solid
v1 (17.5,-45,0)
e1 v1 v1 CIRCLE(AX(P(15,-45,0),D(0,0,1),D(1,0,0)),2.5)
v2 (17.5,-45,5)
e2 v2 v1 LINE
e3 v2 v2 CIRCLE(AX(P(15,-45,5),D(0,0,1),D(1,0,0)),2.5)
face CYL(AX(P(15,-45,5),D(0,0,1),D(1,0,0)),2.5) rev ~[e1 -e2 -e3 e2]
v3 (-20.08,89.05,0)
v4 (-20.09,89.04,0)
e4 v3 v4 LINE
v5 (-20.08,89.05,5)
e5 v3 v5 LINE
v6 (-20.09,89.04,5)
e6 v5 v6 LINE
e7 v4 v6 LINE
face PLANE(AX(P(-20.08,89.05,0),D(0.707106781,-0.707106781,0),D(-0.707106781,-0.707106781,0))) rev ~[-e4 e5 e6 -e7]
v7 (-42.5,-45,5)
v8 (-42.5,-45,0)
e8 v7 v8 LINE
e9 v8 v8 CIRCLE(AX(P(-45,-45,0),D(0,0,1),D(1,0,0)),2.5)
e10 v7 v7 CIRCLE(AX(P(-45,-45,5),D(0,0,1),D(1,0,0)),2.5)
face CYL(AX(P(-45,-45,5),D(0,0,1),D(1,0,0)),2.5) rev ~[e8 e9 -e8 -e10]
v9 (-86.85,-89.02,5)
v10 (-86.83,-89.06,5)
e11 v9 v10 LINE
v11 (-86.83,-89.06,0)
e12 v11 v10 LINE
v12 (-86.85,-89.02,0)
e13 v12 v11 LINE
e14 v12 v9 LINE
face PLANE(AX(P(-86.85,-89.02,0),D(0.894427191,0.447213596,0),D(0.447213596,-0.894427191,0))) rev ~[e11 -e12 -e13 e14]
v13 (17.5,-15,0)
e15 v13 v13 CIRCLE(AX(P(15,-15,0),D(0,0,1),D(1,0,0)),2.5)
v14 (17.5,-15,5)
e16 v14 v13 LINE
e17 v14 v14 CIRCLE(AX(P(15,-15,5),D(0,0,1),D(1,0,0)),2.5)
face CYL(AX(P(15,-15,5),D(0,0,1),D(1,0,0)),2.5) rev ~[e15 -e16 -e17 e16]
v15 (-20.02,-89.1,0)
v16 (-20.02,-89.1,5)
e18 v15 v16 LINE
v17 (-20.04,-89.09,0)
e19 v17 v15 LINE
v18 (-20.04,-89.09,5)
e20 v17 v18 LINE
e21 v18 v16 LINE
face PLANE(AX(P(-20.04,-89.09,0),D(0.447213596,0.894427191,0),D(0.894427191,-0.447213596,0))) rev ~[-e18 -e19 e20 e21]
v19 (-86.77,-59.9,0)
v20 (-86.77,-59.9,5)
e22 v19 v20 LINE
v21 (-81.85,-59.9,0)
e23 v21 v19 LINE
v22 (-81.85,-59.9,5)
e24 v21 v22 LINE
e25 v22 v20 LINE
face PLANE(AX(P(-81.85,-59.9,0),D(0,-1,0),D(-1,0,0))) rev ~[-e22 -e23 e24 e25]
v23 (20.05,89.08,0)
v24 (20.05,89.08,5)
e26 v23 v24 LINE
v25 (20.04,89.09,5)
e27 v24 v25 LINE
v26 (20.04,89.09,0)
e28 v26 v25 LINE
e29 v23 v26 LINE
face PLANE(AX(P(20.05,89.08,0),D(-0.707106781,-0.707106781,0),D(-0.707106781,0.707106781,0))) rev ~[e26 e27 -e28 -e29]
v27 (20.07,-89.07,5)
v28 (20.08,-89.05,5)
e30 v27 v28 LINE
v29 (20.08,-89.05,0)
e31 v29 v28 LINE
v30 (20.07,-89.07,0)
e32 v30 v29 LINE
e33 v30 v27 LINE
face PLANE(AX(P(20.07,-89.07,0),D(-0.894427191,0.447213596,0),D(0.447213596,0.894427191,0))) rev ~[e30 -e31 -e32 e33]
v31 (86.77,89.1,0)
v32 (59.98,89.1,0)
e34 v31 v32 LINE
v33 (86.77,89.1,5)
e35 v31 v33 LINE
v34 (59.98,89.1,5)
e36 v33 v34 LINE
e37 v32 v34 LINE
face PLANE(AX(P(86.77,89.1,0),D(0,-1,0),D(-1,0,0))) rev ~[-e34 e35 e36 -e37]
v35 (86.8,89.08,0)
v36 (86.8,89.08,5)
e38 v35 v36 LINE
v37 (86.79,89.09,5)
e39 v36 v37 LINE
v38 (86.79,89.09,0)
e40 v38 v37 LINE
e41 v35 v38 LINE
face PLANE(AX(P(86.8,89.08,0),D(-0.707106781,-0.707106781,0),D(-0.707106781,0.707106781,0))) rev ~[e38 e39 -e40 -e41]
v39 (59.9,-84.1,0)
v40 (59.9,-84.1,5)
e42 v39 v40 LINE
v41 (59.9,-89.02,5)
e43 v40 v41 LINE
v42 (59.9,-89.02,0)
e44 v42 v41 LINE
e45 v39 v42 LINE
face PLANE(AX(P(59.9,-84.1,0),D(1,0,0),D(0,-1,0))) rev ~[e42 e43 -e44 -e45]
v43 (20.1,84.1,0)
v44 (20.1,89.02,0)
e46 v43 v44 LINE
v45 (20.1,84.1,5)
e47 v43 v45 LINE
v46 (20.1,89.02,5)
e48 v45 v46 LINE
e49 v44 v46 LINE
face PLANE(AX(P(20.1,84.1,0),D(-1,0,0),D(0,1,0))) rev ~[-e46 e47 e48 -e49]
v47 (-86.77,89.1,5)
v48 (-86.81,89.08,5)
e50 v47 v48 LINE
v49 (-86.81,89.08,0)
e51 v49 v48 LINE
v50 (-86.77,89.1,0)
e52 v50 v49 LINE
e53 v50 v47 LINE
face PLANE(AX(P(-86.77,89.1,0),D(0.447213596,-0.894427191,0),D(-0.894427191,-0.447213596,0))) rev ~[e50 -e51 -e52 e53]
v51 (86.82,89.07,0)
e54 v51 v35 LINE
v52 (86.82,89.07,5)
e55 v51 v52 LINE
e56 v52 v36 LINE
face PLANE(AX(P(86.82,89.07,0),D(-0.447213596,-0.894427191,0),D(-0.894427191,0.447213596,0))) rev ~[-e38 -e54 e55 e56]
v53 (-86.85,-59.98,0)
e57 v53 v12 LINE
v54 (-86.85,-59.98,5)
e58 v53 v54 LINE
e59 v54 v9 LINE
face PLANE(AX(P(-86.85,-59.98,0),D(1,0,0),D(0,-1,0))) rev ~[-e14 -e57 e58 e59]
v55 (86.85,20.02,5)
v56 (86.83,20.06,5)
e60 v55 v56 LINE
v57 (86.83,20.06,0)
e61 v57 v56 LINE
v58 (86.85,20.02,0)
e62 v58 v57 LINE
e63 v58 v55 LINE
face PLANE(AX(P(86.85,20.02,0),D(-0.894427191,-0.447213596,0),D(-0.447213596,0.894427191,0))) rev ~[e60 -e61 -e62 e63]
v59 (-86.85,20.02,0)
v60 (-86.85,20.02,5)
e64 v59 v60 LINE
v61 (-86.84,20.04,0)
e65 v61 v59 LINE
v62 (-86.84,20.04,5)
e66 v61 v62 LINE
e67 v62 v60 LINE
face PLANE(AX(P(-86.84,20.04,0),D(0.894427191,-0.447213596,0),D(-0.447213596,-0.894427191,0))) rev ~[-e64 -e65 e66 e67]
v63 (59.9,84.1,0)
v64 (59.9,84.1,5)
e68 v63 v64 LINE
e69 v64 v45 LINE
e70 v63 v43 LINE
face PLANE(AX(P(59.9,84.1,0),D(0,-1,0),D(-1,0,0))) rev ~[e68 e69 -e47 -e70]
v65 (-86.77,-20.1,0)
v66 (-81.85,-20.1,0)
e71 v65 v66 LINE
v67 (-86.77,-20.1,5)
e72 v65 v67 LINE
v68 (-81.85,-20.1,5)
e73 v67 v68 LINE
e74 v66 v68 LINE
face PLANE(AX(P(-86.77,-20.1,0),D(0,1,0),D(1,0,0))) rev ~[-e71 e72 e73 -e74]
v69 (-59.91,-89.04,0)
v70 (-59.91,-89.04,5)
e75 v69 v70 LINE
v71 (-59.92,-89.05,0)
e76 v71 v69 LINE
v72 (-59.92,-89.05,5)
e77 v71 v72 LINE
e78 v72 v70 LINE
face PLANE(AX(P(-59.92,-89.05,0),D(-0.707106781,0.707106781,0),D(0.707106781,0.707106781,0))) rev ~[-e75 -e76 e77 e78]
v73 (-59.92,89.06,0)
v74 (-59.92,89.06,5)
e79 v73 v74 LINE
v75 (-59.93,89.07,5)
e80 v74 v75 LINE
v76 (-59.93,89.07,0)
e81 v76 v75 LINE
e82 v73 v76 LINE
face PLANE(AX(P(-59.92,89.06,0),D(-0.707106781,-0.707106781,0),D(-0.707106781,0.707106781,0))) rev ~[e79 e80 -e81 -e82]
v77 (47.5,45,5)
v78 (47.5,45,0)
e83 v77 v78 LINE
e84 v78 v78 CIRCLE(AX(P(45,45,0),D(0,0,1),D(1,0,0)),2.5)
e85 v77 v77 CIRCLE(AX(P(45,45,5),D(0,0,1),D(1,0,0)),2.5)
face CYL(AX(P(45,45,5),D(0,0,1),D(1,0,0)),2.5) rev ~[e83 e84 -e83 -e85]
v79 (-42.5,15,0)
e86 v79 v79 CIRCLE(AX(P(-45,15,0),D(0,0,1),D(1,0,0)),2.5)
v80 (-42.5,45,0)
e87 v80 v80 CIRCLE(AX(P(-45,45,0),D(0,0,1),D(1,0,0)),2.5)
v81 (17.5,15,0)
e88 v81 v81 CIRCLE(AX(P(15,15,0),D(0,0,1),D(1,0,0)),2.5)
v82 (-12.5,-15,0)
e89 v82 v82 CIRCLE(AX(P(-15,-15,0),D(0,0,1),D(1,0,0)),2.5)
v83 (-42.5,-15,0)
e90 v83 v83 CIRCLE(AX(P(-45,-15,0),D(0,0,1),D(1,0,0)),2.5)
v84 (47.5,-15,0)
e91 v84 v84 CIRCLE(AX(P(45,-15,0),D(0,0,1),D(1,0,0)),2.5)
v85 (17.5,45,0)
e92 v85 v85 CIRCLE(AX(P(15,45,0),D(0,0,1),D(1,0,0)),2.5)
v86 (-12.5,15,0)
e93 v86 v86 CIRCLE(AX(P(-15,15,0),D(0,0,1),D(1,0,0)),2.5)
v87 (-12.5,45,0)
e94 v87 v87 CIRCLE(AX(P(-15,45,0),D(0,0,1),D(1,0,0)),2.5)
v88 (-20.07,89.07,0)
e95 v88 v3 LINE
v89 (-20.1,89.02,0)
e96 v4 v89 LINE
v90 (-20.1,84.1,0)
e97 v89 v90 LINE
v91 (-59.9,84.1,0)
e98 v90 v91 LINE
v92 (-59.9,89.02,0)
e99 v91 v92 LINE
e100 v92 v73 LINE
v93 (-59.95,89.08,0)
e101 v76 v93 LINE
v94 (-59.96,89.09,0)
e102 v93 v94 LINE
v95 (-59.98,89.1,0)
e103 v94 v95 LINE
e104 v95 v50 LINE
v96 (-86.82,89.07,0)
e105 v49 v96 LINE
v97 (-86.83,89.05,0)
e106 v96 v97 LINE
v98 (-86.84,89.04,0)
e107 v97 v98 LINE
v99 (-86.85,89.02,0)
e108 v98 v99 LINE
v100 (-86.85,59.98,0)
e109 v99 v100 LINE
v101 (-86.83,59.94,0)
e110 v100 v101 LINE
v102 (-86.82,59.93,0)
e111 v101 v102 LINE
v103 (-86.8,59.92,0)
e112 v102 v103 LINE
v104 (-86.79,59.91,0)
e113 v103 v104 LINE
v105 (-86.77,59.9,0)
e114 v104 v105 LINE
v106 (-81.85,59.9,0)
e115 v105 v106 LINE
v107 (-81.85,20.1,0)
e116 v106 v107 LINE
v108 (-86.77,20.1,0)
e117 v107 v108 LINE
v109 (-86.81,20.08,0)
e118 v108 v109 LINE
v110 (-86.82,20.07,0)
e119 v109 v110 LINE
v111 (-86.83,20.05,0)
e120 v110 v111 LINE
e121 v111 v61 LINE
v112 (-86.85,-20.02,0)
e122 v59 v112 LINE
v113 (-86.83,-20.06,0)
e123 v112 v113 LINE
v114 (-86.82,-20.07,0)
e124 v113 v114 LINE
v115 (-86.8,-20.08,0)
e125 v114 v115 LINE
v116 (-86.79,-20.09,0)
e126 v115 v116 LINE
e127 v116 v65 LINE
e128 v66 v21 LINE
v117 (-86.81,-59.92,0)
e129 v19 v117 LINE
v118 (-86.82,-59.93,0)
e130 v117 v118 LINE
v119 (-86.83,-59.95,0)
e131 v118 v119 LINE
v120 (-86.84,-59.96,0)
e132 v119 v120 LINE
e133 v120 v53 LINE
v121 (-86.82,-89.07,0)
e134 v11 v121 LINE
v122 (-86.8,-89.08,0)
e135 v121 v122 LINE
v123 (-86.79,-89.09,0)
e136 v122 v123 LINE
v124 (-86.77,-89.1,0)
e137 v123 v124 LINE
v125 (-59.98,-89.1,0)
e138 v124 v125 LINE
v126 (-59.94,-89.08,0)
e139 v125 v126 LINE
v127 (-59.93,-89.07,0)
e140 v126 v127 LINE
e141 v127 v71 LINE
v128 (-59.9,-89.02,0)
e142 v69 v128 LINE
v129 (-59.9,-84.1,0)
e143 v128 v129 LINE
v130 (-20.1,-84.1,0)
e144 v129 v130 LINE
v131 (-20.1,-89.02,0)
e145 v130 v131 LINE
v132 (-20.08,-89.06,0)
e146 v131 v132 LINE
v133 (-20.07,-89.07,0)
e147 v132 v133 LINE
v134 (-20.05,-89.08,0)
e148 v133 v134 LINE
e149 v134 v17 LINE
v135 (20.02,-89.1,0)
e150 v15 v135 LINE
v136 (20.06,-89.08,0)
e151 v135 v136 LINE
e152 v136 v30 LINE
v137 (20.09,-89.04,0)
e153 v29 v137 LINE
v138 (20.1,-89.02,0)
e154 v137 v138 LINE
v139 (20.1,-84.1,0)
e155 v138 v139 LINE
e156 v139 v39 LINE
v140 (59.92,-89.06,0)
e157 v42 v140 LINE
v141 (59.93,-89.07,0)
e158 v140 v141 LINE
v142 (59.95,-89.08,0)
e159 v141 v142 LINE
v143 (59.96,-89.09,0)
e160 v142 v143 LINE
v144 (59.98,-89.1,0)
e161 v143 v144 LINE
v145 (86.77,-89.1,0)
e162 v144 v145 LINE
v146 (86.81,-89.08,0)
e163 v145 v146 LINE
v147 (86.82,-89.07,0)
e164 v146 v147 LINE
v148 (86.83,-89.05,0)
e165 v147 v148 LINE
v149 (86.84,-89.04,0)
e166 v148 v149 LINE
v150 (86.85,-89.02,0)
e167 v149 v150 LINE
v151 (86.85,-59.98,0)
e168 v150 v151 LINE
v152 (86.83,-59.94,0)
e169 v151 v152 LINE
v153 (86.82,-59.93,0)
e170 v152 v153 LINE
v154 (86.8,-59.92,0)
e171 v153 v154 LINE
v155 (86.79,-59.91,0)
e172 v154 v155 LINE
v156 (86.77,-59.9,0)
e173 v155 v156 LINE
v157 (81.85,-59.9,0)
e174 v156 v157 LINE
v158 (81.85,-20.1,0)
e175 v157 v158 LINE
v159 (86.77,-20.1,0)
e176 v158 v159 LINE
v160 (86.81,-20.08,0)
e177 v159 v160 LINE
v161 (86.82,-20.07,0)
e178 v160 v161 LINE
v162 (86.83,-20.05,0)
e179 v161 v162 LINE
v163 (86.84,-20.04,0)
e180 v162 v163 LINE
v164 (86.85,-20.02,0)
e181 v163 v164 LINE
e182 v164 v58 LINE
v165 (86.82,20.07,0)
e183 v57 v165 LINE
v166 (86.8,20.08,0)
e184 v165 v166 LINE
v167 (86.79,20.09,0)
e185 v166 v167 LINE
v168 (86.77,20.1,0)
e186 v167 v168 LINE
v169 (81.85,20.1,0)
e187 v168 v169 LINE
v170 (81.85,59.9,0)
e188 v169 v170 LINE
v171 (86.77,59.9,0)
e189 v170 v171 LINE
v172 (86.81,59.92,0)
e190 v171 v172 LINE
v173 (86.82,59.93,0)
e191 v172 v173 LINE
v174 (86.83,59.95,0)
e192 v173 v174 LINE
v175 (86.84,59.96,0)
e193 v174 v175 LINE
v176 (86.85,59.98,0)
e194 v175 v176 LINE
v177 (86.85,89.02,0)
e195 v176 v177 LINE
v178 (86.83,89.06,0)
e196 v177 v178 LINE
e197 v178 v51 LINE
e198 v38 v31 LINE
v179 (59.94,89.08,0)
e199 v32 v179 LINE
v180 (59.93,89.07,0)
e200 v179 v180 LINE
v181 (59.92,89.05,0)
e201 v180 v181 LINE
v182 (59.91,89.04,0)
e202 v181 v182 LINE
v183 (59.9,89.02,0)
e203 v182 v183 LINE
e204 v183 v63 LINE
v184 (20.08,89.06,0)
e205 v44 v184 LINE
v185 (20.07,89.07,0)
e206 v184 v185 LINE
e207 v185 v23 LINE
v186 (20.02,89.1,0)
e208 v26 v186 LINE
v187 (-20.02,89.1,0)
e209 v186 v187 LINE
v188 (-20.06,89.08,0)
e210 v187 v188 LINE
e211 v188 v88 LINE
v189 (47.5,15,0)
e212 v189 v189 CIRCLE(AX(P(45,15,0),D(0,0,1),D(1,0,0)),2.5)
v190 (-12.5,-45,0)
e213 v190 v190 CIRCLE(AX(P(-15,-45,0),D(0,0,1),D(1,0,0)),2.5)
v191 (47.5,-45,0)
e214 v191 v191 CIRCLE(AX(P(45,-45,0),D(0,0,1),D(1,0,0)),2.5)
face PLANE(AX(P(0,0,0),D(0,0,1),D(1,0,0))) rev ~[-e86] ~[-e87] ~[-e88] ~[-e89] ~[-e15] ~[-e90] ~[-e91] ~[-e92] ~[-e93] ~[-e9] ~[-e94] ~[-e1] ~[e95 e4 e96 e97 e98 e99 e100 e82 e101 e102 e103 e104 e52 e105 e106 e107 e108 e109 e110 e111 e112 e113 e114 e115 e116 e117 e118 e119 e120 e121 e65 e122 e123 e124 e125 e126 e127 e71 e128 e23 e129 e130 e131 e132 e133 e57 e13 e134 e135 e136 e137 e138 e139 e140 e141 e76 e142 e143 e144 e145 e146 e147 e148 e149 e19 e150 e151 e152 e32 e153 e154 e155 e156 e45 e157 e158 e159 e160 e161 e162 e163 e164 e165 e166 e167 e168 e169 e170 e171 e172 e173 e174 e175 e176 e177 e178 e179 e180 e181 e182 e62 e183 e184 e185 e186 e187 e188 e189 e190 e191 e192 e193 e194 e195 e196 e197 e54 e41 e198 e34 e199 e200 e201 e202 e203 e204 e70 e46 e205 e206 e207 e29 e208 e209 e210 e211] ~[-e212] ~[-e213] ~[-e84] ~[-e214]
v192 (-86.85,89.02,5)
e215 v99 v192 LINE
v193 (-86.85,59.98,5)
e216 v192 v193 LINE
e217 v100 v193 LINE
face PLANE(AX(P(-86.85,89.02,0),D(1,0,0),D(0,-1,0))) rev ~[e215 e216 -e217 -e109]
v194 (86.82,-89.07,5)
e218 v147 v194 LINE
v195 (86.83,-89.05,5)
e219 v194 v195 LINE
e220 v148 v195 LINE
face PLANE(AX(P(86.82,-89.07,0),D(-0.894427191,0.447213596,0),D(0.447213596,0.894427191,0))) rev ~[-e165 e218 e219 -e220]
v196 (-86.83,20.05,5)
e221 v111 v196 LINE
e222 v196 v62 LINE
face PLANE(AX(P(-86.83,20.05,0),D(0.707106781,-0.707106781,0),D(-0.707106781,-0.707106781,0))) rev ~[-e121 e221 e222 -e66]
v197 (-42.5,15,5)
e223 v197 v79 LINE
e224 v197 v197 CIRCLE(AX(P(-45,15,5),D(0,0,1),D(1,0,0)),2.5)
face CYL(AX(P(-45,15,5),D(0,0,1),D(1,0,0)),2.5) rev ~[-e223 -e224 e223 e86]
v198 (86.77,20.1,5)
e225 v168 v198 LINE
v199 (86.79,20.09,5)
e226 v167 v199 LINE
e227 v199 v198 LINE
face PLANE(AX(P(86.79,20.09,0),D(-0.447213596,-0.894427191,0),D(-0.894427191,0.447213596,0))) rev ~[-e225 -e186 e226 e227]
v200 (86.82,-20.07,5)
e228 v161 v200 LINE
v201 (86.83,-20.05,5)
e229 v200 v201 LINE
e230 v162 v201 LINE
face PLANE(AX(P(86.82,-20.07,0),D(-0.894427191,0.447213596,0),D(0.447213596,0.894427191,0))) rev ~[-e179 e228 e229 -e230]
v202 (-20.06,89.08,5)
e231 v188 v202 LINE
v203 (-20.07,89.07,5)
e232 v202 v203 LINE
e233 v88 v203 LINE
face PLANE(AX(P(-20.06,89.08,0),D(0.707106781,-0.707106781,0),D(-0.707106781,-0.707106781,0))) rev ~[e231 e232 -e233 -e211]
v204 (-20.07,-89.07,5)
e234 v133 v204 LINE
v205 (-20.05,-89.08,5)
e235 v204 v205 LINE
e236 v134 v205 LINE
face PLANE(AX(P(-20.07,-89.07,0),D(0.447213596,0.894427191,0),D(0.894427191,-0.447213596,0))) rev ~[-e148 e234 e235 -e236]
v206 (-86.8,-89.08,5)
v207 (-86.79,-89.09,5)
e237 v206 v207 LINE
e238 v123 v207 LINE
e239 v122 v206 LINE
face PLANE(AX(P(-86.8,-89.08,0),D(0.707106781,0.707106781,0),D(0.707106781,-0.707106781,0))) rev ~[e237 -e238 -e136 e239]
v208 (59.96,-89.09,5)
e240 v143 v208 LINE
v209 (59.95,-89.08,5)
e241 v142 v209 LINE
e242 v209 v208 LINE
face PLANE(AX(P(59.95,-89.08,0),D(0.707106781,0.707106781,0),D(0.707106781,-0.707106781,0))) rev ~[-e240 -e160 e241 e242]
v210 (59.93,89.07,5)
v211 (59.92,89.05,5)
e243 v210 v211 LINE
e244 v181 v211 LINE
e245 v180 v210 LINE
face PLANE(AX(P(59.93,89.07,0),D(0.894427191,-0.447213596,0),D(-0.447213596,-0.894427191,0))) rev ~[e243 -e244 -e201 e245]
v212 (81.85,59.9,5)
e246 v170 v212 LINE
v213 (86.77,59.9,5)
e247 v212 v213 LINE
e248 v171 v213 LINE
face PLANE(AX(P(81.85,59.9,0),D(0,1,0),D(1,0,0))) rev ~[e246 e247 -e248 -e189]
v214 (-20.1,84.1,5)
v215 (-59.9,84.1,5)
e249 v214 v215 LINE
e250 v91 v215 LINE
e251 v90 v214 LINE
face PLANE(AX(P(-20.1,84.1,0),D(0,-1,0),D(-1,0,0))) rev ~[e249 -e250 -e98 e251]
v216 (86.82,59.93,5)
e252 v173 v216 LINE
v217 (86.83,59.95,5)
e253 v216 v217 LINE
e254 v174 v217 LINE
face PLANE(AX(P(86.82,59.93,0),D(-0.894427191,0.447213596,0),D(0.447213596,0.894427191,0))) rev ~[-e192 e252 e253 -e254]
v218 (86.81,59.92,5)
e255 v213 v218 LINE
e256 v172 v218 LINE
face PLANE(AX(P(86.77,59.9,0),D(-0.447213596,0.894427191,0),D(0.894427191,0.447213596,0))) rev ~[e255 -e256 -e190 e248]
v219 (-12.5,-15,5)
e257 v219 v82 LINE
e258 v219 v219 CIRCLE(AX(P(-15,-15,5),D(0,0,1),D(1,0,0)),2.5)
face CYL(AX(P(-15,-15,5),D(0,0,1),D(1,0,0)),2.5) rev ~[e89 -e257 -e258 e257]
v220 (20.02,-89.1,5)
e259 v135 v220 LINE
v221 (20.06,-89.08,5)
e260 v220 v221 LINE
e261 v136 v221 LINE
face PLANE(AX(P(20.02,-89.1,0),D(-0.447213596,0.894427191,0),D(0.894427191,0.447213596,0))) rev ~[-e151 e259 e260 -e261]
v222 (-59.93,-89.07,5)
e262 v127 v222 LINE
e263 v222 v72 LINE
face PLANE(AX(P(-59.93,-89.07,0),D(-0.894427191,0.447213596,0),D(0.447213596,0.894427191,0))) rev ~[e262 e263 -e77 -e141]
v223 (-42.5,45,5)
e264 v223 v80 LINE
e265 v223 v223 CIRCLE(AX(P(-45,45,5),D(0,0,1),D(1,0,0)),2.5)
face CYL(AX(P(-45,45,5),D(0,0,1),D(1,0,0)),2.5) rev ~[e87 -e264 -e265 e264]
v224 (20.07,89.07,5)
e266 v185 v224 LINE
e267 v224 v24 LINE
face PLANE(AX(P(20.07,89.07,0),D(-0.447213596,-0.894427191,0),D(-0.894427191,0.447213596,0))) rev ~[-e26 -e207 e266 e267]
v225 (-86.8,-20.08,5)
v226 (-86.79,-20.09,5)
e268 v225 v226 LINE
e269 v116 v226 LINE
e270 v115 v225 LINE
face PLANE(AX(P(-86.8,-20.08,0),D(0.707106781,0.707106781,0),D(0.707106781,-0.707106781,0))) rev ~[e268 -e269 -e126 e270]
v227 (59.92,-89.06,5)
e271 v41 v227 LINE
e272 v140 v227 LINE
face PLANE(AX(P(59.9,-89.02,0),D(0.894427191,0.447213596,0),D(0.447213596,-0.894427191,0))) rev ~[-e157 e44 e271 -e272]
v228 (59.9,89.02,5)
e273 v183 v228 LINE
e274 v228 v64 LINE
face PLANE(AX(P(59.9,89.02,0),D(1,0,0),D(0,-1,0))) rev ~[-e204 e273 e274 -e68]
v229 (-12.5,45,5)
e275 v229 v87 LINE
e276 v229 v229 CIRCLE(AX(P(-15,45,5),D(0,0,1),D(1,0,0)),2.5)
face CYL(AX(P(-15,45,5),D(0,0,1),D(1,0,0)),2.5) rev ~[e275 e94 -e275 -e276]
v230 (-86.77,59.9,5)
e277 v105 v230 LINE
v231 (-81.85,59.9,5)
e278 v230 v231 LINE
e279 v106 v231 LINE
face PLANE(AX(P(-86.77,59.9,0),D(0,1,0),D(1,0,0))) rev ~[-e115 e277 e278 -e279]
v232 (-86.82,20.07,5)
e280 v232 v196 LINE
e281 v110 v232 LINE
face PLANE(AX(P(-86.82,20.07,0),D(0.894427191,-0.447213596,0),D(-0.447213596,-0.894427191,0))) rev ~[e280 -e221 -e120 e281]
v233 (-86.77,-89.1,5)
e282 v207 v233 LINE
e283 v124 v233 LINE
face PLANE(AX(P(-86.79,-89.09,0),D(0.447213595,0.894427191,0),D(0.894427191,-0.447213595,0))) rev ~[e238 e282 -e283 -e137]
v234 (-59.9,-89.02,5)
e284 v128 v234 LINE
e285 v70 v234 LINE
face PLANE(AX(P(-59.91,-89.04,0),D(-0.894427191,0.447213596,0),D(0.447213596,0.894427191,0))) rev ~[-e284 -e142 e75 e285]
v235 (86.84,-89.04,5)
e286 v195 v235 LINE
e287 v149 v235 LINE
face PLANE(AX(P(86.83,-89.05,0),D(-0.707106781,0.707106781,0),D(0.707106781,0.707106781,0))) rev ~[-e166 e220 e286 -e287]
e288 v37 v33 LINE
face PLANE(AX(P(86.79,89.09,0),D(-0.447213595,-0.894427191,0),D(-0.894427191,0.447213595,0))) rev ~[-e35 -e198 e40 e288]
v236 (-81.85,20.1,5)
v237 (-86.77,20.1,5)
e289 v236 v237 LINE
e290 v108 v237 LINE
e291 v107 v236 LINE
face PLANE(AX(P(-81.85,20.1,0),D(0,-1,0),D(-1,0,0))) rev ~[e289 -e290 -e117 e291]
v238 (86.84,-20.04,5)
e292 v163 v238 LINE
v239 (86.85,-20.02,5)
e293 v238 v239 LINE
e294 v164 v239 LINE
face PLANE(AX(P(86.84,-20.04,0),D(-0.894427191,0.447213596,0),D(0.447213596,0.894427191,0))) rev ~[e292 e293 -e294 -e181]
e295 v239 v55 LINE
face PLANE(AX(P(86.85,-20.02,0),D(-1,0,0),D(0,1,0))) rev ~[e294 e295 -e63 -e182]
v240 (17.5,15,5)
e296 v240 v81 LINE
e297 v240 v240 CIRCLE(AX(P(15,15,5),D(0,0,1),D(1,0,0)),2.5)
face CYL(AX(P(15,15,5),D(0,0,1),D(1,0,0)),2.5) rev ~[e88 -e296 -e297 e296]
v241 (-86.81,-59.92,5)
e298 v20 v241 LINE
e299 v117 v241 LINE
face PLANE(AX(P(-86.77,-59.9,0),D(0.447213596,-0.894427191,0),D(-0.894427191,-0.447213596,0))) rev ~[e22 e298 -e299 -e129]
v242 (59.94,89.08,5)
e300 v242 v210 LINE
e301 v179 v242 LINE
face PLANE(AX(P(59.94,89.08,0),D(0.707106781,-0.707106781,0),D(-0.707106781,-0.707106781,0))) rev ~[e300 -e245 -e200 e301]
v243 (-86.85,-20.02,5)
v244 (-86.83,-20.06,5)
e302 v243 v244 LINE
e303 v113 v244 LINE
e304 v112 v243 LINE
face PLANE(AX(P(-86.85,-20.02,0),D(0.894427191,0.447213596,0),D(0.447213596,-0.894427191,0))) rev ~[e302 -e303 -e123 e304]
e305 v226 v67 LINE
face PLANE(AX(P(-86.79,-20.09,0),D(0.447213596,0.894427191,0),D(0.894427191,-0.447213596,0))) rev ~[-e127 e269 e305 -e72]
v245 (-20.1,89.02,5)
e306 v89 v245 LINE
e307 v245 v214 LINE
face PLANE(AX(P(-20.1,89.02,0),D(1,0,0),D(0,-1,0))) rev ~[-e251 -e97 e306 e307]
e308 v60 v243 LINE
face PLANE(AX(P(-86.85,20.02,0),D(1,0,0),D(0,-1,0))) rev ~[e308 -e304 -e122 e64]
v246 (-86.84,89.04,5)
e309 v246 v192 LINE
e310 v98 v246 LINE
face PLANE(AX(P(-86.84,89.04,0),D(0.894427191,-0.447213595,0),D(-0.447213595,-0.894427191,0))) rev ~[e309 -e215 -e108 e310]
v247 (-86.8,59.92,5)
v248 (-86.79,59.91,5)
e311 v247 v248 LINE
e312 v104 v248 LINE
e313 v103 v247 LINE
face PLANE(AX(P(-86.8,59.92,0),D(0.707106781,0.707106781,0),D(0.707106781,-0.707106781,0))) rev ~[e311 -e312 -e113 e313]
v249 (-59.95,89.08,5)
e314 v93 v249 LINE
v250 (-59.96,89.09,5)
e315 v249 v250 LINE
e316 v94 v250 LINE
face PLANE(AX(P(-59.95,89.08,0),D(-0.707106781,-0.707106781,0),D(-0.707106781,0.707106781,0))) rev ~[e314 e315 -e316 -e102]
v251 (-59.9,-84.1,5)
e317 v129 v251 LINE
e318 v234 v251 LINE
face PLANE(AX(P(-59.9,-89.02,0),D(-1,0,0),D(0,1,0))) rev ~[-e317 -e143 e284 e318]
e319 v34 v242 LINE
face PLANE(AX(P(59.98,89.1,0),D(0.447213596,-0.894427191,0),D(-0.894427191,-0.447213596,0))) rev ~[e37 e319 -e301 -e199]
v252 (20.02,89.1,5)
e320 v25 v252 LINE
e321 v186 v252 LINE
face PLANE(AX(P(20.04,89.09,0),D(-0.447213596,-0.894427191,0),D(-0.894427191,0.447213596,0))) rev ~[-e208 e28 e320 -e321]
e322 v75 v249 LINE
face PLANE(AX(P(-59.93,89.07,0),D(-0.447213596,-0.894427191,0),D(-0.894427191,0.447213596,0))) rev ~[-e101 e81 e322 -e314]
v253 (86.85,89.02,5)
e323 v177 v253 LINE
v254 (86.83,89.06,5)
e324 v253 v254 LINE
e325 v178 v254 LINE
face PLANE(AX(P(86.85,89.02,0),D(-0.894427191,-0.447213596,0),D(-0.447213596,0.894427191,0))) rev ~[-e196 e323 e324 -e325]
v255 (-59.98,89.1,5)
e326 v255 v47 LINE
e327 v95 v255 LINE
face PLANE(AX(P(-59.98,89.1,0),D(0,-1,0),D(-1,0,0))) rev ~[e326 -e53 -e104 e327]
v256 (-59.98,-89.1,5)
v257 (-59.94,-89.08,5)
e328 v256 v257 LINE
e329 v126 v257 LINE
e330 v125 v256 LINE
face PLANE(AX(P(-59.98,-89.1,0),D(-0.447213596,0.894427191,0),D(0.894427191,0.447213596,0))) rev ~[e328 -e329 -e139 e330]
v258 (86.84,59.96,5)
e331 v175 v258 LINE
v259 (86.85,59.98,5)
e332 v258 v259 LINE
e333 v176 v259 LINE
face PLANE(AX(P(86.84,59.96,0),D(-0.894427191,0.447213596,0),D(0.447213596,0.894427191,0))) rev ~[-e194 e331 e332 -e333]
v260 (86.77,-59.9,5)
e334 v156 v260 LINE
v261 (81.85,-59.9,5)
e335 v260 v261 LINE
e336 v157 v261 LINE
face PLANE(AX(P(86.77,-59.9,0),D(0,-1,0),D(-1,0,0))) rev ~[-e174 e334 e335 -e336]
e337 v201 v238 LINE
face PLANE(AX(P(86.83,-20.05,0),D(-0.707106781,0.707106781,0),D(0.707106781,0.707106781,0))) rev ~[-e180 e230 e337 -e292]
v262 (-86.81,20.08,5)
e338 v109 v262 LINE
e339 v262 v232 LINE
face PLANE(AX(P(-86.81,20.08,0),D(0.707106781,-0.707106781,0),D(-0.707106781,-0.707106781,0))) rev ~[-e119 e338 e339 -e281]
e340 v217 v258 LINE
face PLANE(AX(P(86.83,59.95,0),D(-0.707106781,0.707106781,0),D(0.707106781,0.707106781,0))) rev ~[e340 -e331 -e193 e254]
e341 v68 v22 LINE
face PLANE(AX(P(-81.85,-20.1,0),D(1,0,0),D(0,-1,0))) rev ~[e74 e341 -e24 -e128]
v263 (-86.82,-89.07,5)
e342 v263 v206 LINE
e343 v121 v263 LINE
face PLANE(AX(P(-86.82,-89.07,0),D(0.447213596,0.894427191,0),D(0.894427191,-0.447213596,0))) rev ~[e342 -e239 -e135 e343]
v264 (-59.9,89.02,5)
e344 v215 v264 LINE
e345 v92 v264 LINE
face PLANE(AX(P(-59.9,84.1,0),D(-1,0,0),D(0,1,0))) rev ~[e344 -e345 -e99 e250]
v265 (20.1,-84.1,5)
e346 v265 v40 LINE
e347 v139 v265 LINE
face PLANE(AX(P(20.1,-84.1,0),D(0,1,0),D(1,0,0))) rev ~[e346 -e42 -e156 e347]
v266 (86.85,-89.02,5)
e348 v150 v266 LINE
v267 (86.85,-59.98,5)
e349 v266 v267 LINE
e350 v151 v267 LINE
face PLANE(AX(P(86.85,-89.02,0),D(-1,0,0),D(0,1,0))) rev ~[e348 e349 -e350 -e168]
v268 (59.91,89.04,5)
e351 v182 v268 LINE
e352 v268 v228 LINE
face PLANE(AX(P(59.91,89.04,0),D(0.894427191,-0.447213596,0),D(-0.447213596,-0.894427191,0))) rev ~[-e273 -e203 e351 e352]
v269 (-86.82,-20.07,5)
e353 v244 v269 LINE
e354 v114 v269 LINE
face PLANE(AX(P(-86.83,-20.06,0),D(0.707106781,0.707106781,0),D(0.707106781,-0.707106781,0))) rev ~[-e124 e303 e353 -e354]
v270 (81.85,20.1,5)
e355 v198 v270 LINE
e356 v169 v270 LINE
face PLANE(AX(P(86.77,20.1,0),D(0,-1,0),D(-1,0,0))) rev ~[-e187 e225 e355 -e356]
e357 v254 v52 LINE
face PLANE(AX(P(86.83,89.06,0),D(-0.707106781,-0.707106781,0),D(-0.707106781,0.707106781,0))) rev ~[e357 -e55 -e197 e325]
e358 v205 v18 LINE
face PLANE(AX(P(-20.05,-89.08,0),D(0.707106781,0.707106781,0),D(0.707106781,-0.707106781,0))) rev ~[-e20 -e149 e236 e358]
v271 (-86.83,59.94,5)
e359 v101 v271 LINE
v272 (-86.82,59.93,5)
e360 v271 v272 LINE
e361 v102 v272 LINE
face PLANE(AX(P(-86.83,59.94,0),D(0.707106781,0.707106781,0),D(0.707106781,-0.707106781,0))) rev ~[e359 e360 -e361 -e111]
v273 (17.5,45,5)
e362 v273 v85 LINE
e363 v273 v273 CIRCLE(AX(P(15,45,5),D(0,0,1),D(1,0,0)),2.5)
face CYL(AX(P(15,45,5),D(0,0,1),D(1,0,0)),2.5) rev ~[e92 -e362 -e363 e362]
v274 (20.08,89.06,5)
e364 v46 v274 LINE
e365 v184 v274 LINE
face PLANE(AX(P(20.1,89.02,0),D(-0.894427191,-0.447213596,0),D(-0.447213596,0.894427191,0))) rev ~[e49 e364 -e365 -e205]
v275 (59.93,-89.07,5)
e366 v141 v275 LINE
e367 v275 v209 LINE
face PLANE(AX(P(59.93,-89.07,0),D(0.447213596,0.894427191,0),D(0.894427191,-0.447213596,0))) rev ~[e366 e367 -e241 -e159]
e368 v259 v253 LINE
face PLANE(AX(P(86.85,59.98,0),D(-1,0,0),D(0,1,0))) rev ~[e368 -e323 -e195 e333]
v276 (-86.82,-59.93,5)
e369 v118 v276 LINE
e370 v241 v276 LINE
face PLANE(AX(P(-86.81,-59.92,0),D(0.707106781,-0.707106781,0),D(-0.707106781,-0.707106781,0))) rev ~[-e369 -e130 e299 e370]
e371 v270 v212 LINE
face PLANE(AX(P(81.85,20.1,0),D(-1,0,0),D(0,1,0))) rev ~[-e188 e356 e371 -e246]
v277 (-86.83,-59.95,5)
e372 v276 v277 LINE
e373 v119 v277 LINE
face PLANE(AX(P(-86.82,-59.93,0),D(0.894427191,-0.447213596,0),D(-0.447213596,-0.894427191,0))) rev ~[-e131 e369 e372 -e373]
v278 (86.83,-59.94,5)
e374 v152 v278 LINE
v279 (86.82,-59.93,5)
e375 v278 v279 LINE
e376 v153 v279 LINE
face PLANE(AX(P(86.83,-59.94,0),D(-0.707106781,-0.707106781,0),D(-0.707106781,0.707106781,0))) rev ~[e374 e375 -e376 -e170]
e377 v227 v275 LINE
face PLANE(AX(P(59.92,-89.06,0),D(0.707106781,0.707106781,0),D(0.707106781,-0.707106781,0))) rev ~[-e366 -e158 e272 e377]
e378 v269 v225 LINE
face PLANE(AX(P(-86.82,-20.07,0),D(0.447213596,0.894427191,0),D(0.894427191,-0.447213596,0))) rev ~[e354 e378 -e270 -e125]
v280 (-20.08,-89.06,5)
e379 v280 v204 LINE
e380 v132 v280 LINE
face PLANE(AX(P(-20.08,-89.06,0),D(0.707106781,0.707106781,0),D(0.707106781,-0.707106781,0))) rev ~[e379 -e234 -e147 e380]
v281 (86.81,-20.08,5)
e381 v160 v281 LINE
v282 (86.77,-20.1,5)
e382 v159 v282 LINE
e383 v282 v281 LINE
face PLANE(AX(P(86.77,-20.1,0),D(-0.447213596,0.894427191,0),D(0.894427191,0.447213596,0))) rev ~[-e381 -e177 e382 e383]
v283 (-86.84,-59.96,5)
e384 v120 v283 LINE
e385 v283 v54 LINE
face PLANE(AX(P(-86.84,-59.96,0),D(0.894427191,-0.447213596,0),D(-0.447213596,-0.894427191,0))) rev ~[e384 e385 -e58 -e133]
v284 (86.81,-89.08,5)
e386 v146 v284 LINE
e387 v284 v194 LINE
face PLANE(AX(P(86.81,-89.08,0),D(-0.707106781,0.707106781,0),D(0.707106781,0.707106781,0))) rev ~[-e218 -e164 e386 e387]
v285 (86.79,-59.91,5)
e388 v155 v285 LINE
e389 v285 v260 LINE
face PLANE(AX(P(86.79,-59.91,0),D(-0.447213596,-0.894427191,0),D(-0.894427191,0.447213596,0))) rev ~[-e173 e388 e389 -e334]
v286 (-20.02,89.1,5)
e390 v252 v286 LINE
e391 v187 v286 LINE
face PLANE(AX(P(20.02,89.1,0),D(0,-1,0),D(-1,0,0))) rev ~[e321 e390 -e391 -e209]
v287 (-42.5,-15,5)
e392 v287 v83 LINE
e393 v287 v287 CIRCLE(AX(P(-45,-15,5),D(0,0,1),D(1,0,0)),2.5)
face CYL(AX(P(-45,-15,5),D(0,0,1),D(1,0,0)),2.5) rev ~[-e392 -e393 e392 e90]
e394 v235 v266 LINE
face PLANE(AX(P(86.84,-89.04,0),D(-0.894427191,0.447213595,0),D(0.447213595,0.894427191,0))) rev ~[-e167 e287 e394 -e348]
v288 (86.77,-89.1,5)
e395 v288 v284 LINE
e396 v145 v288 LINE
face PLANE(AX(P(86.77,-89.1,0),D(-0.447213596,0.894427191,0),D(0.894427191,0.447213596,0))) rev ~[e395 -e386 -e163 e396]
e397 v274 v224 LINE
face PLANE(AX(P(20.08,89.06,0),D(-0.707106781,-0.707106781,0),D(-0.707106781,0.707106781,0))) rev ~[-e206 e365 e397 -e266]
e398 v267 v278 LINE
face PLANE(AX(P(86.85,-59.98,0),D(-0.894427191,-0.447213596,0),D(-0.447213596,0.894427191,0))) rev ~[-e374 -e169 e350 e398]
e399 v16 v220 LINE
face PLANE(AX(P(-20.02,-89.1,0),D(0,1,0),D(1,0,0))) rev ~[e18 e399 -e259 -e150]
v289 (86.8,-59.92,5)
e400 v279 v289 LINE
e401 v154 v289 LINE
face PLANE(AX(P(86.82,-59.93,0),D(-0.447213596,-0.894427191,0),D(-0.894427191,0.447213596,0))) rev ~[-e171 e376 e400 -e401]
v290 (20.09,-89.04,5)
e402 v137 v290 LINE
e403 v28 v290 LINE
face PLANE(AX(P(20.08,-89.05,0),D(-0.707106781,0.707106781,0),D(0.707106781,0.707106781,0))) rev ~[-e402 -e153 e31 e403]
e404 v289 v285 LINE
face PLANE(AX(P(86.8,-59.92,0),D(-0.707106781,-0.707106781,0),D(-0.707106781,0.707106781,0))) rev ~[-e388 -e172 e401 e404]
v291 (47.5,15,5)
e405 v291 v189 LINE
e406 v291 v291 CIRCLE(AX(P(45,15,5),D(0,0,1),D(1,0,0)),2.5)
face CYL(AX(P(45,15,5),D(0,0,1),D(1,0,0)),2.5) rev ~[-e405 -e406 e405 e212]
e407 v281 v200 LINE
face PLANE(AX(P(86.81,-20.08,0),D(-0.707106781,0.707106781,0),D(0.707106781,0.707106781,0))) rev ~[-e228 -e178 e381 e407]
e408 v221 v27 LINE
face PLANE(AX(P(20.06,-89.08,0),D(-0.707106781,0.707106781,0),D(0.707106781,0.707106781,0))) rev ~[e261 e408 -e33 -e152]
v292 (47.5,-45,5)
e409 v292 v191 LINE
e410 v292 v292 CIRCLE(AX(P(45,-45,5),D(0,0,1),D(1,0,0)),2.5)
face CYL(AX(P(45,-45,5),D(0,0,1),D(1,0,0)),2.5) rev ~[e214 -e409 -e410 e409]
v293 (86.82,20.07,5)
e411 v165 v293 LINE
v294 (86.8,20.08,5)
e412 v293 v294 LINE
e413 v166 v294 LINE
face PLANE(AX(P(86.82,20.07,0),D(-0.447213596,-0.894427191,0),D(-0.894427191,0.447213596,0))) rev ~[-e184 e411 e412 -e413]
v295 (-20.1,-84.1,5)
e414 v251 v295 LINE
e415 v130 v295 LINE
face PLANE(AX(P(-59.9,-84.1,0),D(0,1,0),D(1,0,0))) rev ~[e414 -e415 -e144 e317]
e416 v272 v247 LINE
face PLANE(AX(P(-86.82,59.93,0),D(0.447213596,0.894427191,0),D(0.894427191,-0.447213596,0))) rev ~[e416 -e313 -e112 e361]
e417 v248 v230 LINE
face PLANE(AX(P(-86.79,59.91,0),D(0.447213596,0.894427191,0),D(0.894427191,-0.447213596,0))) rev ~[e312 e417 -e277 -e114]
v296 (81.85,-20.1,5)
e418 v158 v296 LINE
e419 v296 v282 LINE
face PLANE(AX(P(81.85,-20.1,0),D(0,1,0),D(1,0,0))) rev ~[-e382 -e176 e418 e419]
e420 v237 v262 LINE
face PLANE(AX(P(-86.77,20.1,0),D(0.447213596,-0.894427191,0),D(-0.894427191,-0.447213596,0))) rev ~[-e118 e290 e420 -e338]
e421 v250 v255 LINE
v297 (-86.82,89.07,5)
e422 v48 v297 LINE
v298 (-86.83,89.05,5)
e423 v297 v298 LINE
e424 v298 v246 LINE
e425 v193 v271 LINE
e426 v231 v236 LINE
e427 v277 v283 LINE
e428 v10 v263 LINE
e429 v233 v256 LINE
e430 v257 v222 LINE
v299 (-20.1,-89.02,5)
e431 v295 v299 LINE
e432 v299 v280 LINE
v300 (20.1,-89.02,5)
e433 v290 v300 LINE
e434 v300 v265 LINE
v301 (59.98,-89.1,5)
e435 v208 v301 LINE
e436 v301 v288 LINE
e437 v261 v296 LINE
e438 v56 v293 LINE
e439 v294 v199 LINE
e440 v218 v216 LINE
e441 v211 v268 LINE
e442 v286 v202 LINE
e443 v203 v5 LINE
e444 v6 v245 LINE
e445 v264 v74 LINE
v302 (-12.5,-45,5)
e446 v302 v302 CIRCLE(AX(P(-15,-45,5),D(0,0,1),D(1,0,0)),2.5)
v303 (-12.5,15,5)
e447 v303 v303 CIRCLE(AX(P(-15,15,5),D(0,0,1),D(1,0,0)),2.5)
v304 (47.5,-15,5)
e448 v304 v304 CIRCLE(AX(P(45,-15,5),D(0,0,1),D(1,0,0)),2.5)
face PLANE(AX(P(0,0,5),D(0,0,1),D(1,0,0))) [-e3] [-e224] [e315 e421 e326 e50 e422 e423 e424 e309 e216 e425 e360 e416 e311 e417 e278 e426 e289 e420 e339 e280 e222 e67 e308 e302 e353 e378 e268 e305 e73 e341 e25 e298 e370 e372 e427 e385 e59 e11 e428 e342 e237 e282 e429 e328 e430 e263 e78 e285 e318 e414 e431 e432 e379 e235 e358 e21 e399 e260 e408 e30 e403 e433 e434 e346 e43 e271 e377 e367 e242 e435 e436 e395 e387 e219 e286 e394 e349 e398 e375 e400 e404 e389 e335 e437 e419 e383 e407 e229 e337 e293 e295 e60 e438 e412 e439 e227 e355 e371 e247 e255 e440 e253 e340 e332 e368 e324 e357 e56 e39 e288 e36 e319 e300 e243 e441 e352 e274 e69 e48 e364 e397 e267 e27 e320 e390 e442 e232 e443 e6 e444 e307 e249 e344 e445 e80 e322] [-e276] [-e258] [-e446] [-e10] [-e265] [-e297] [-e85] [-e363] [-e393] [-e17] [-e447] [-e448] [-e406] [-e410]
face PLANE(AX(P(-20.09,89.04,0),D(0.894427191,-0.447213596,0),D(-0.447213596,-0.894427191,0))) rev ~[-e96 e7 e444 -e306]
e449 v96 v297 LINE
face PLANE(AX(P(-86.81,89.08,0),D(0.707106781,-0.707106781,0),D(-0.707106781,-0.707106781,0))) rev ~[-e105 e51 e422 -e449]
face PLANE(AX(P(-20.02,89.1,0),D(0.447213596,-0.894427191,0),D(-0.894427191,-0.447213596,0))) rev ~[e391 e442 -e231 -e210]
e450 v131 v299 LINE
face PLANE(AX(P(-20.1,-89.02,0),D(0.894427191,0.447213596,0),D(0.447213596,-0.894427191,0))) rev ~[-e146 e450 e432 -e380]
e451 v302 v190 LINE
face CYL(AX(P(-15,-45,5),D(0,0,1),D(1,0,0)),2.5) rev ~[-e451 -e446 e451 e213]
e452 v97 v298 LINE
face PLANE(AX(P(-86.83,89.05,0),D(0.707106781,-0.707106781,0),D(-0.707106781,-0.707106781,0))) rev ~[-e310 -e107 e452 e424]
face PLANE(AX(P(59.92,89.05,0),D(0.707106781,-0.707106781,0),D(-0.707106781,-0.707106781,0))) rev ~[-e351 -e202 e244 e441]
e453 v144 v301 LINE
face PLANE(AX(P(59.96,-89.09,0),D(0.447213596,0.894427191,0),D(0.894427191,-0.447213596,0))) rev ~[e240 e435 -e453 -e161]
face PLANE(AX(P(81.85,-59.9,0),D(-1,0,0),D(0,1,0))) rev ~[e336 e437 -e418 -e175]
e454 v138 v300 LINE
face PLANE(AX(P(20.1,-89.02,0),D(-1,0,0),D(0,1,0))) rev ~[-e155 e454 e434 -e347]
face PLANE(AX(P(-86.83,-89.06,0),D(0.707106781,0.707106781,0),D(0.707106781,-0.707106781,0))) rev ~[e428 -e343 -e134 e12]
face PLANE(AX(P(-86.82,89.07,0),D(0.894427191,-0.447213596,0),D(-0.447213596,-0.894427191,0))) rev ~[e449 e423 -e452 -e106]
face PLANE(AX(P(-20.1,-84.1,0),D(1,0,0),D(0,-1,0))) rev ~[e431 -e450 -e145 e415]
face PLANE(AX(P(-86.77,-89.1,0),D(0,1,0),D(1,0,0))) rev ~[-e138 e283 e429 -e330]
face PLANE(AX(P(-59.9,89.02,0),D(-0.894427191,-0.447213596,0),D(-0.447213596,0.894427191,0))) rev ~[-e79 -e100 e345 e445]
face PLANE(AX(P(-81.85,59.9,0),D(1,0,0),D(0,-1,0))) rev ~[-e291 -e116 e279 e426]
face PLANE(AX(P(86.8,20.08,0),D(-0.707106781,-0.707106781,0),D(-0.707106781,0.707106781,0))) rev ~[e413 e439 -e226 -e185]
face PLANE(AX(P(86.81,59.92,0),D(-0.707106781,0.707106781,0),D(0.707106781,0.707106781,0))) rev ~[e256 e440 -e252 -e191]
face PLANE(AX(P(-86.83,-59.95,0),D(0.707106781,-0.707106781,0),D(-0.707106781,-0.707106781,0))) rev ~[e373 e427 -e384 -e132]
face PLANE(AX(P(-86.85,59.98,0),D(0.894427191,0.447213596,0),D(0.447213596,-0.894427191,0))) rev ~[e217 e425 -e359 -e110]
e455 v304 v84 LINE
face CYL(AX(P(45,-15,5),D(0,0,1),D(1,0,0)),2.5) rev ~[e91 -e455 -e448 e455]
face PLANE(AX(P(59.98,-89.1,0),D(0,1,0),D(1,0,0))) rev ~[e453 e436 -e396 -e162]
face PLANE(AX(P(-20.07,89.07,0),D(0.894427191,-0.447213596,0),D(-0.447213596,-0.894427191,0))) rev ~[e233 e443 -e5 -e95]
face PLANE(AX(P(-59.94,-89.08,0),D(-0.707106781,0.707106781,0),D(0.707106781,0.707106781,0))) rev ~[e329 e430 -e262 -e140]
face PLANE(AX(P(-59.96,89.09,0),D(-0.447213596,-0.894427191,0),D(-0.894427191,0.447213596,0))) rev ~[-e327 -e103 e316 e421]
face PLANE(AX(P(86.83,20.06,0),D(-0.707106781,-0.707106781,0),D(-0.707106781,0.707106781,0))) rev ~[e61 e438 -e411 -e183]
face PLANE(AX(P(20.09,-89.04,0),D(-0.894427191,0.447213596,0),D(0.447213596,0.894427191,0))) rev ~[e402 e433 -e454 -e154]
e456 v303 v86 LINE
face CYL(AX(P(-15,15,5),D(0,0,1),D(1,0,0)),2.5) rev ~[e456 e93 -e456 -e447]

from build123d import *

# Parameters (mm, degrees)
BOSS_EXTRUDE1_DEPTH = 5
SKETCH2_R           = 2.5
CUT_EXTRUDE1_DEPTH  = 125.526031415


with BuildPart() as part:
    # Model → Boss-Extrude1 (new body)
    with BuildSketch(Plane.XY):
        Polygon((-59.94, -89.08), (-59.93, -89.07), (-59.92, -89.05), (-59.91, -89.04), (-59.9, -89.02), (-59.9, -84.1), (-20.1, -84.1), (-20.1, -89.02), (-20.08, -89.06), (-20.07, -89.07), (-20.05, -89.08), (-20.04, -89.09), (-20.02, -89.1), (20.02, -89.1), (20.06, -89.08), (20.07, -89.07), (20.08, -89.05), (20.09, -89.04), (20.1, -89.02), (20.1, -84.1), (59.9, -84.1), (59.9, -89.02), (59.92, -89.06), (59.93, -89.07), (59.95, -89.08), (59.96, -89.09), (59.98, -89.1), (86.77, -89.1), (86.81, -89.08), (86.82, -89.07), (86.83, -89.05), (86.84, -89.04), (86.85, -89.02), (86.85, -59.98), (86.83, -59.94), (86.82, -59.93), (86.8, -59.92), (86.79, -59.91), (86.77, -59.9), (81.85, -59.9), (81.85, -20.1), (86.77, -20.1), (86.81, -20.08), (86.82, -20.07), (86.83, -20.05), (86.84, -20.04), (86.85, -20.02), (86.85, 20.02), (86.83, 20.06), (86.82, 20.07), (86.8, 20.08), (86.79, 20.09), (86.77, 20.1), (81.85, 20.1), (81.85, 59.9), (86.77, 59.9), (86.81, 59.92), (86.82, 59.93), (86.83, 59.95), (86.84, 59.96), (86.85, 59.98), (86.85, 89.02), (86.83, 89.06), (86.82, 89.07), (86.8, 89.08), (86.79, 89.09), (86.77, 89.1), (59.98, 89.1), (59.94, 89.08), (59.93, 89.07), (59.92, 89.05), (59.91, 89.04), (59.9, 89.02), (59.9, 84.1), (20.1, 84.1), (20.1, 89.02), (20.08, 89.06), (20.07, 89.07), (20.05, 89.08), (20.04, 89.09), (20.02, 89.1), (-20.02, 89.1), (-20.06, 89.08), (-20.07, 89.07), (-20.08, 89.05), (-20.09, 89.04), (-20.1, 89.02), (-20.1, 84.1), (-59.9, 84.1), (-59.9, 89.02), (-59.92, 89.06), (-59.93, 89.07), (-59.95, 89.08), (-59.96, 89.09), (-59.98, 89.1), (-86.77, 89.1), (-86.81, 89.08), (-86.82, 89.07), (-86.83, 89.05), (-86.84, 89.04), (-86.85, 89.02), (-86.85, 59.98), (-86.83, 59.94), (-86.82, 59.93), (-86.8, 59.92), (-86.79, 59.91), (-86.77, 59.9), (-81.85, 59.9), (-81.85, 20.1), (-86.77, 20.1), (-86.81, 20.08), (-86.82, 20.07), (-86.83, 20.05), (-86.84, 20.04), (-86.85, 20.02), (-86.85, -20.02), (-86.83, -20.06), (-86.82, -20.07), (-86.8, -20.08), (-86.79, -20.09), (-86.77, -20.1), (-81.85, -20.1), (-81.85, -59.9), (-86.77, -59.9), (-86.81, -59.92), (-86.82, -59.93), (-86.83, -59.95), (-86.84, -59.96), (-86.85, -59.98), (-86.85, -89.02), (-86.83, -89.06), (-86.82, -89.07), (-86.8, -89.08), (-86.79, -89.09), (-86.77, -89.1), (-59.98, -89.1), align=None)
    extrude(amount=BOSS_EXTRUDE1_DEPTH)

    # Sketch2 → Cut-Extrude1 (cut, through all)
    with BuildSketch(Plane.XY.offset(5)):
        with Locations((-45, 45)):
            Circle(SKETCH2_R)
        with Locations((-15, 45)):
            Circle(SKETCH2_R)
        with Locations((15, 45)):
            Circle(SKETCH2_R)
        with Locations((45, 45)):
            Circle(SKETCH2_R)
        with Locations((-15, 15)):
            Circle(SKETCH2_R)
        with Locations((15, 15)):
            Circle(SKETCH2_R)
        with Locations((45, 15)):
            Circle(SKETCH2_R)
        with Locations((-15, -15)):
            Circle(SKETCH2_R)
        with Locations((15, -15)):
            Circle(SKETCH2_R)
        with Locations((45, -15)):
            Circle(SKETCH2_R)
        with Locations((-15, -45)):
            Circle(SKETCH2_R)
        with Locations((15, -45)):
            Circle(SKETCH2_R)
        with Locations((45, -45)):
            Circle(SKETCH2_R)
        with Locations((-45, 15)):
            Circle(SKETCH2_R)
        with Locations((-45, -15)):
            Circle(SKETCH2_R)
        with Locations((-45, -45)):
            Circle(SKETCH2_R)
    extrude(amount=-CUT_EXTRUDE1_DEPTH, mode=Mode.SUBTRACT)


solid = part.part
